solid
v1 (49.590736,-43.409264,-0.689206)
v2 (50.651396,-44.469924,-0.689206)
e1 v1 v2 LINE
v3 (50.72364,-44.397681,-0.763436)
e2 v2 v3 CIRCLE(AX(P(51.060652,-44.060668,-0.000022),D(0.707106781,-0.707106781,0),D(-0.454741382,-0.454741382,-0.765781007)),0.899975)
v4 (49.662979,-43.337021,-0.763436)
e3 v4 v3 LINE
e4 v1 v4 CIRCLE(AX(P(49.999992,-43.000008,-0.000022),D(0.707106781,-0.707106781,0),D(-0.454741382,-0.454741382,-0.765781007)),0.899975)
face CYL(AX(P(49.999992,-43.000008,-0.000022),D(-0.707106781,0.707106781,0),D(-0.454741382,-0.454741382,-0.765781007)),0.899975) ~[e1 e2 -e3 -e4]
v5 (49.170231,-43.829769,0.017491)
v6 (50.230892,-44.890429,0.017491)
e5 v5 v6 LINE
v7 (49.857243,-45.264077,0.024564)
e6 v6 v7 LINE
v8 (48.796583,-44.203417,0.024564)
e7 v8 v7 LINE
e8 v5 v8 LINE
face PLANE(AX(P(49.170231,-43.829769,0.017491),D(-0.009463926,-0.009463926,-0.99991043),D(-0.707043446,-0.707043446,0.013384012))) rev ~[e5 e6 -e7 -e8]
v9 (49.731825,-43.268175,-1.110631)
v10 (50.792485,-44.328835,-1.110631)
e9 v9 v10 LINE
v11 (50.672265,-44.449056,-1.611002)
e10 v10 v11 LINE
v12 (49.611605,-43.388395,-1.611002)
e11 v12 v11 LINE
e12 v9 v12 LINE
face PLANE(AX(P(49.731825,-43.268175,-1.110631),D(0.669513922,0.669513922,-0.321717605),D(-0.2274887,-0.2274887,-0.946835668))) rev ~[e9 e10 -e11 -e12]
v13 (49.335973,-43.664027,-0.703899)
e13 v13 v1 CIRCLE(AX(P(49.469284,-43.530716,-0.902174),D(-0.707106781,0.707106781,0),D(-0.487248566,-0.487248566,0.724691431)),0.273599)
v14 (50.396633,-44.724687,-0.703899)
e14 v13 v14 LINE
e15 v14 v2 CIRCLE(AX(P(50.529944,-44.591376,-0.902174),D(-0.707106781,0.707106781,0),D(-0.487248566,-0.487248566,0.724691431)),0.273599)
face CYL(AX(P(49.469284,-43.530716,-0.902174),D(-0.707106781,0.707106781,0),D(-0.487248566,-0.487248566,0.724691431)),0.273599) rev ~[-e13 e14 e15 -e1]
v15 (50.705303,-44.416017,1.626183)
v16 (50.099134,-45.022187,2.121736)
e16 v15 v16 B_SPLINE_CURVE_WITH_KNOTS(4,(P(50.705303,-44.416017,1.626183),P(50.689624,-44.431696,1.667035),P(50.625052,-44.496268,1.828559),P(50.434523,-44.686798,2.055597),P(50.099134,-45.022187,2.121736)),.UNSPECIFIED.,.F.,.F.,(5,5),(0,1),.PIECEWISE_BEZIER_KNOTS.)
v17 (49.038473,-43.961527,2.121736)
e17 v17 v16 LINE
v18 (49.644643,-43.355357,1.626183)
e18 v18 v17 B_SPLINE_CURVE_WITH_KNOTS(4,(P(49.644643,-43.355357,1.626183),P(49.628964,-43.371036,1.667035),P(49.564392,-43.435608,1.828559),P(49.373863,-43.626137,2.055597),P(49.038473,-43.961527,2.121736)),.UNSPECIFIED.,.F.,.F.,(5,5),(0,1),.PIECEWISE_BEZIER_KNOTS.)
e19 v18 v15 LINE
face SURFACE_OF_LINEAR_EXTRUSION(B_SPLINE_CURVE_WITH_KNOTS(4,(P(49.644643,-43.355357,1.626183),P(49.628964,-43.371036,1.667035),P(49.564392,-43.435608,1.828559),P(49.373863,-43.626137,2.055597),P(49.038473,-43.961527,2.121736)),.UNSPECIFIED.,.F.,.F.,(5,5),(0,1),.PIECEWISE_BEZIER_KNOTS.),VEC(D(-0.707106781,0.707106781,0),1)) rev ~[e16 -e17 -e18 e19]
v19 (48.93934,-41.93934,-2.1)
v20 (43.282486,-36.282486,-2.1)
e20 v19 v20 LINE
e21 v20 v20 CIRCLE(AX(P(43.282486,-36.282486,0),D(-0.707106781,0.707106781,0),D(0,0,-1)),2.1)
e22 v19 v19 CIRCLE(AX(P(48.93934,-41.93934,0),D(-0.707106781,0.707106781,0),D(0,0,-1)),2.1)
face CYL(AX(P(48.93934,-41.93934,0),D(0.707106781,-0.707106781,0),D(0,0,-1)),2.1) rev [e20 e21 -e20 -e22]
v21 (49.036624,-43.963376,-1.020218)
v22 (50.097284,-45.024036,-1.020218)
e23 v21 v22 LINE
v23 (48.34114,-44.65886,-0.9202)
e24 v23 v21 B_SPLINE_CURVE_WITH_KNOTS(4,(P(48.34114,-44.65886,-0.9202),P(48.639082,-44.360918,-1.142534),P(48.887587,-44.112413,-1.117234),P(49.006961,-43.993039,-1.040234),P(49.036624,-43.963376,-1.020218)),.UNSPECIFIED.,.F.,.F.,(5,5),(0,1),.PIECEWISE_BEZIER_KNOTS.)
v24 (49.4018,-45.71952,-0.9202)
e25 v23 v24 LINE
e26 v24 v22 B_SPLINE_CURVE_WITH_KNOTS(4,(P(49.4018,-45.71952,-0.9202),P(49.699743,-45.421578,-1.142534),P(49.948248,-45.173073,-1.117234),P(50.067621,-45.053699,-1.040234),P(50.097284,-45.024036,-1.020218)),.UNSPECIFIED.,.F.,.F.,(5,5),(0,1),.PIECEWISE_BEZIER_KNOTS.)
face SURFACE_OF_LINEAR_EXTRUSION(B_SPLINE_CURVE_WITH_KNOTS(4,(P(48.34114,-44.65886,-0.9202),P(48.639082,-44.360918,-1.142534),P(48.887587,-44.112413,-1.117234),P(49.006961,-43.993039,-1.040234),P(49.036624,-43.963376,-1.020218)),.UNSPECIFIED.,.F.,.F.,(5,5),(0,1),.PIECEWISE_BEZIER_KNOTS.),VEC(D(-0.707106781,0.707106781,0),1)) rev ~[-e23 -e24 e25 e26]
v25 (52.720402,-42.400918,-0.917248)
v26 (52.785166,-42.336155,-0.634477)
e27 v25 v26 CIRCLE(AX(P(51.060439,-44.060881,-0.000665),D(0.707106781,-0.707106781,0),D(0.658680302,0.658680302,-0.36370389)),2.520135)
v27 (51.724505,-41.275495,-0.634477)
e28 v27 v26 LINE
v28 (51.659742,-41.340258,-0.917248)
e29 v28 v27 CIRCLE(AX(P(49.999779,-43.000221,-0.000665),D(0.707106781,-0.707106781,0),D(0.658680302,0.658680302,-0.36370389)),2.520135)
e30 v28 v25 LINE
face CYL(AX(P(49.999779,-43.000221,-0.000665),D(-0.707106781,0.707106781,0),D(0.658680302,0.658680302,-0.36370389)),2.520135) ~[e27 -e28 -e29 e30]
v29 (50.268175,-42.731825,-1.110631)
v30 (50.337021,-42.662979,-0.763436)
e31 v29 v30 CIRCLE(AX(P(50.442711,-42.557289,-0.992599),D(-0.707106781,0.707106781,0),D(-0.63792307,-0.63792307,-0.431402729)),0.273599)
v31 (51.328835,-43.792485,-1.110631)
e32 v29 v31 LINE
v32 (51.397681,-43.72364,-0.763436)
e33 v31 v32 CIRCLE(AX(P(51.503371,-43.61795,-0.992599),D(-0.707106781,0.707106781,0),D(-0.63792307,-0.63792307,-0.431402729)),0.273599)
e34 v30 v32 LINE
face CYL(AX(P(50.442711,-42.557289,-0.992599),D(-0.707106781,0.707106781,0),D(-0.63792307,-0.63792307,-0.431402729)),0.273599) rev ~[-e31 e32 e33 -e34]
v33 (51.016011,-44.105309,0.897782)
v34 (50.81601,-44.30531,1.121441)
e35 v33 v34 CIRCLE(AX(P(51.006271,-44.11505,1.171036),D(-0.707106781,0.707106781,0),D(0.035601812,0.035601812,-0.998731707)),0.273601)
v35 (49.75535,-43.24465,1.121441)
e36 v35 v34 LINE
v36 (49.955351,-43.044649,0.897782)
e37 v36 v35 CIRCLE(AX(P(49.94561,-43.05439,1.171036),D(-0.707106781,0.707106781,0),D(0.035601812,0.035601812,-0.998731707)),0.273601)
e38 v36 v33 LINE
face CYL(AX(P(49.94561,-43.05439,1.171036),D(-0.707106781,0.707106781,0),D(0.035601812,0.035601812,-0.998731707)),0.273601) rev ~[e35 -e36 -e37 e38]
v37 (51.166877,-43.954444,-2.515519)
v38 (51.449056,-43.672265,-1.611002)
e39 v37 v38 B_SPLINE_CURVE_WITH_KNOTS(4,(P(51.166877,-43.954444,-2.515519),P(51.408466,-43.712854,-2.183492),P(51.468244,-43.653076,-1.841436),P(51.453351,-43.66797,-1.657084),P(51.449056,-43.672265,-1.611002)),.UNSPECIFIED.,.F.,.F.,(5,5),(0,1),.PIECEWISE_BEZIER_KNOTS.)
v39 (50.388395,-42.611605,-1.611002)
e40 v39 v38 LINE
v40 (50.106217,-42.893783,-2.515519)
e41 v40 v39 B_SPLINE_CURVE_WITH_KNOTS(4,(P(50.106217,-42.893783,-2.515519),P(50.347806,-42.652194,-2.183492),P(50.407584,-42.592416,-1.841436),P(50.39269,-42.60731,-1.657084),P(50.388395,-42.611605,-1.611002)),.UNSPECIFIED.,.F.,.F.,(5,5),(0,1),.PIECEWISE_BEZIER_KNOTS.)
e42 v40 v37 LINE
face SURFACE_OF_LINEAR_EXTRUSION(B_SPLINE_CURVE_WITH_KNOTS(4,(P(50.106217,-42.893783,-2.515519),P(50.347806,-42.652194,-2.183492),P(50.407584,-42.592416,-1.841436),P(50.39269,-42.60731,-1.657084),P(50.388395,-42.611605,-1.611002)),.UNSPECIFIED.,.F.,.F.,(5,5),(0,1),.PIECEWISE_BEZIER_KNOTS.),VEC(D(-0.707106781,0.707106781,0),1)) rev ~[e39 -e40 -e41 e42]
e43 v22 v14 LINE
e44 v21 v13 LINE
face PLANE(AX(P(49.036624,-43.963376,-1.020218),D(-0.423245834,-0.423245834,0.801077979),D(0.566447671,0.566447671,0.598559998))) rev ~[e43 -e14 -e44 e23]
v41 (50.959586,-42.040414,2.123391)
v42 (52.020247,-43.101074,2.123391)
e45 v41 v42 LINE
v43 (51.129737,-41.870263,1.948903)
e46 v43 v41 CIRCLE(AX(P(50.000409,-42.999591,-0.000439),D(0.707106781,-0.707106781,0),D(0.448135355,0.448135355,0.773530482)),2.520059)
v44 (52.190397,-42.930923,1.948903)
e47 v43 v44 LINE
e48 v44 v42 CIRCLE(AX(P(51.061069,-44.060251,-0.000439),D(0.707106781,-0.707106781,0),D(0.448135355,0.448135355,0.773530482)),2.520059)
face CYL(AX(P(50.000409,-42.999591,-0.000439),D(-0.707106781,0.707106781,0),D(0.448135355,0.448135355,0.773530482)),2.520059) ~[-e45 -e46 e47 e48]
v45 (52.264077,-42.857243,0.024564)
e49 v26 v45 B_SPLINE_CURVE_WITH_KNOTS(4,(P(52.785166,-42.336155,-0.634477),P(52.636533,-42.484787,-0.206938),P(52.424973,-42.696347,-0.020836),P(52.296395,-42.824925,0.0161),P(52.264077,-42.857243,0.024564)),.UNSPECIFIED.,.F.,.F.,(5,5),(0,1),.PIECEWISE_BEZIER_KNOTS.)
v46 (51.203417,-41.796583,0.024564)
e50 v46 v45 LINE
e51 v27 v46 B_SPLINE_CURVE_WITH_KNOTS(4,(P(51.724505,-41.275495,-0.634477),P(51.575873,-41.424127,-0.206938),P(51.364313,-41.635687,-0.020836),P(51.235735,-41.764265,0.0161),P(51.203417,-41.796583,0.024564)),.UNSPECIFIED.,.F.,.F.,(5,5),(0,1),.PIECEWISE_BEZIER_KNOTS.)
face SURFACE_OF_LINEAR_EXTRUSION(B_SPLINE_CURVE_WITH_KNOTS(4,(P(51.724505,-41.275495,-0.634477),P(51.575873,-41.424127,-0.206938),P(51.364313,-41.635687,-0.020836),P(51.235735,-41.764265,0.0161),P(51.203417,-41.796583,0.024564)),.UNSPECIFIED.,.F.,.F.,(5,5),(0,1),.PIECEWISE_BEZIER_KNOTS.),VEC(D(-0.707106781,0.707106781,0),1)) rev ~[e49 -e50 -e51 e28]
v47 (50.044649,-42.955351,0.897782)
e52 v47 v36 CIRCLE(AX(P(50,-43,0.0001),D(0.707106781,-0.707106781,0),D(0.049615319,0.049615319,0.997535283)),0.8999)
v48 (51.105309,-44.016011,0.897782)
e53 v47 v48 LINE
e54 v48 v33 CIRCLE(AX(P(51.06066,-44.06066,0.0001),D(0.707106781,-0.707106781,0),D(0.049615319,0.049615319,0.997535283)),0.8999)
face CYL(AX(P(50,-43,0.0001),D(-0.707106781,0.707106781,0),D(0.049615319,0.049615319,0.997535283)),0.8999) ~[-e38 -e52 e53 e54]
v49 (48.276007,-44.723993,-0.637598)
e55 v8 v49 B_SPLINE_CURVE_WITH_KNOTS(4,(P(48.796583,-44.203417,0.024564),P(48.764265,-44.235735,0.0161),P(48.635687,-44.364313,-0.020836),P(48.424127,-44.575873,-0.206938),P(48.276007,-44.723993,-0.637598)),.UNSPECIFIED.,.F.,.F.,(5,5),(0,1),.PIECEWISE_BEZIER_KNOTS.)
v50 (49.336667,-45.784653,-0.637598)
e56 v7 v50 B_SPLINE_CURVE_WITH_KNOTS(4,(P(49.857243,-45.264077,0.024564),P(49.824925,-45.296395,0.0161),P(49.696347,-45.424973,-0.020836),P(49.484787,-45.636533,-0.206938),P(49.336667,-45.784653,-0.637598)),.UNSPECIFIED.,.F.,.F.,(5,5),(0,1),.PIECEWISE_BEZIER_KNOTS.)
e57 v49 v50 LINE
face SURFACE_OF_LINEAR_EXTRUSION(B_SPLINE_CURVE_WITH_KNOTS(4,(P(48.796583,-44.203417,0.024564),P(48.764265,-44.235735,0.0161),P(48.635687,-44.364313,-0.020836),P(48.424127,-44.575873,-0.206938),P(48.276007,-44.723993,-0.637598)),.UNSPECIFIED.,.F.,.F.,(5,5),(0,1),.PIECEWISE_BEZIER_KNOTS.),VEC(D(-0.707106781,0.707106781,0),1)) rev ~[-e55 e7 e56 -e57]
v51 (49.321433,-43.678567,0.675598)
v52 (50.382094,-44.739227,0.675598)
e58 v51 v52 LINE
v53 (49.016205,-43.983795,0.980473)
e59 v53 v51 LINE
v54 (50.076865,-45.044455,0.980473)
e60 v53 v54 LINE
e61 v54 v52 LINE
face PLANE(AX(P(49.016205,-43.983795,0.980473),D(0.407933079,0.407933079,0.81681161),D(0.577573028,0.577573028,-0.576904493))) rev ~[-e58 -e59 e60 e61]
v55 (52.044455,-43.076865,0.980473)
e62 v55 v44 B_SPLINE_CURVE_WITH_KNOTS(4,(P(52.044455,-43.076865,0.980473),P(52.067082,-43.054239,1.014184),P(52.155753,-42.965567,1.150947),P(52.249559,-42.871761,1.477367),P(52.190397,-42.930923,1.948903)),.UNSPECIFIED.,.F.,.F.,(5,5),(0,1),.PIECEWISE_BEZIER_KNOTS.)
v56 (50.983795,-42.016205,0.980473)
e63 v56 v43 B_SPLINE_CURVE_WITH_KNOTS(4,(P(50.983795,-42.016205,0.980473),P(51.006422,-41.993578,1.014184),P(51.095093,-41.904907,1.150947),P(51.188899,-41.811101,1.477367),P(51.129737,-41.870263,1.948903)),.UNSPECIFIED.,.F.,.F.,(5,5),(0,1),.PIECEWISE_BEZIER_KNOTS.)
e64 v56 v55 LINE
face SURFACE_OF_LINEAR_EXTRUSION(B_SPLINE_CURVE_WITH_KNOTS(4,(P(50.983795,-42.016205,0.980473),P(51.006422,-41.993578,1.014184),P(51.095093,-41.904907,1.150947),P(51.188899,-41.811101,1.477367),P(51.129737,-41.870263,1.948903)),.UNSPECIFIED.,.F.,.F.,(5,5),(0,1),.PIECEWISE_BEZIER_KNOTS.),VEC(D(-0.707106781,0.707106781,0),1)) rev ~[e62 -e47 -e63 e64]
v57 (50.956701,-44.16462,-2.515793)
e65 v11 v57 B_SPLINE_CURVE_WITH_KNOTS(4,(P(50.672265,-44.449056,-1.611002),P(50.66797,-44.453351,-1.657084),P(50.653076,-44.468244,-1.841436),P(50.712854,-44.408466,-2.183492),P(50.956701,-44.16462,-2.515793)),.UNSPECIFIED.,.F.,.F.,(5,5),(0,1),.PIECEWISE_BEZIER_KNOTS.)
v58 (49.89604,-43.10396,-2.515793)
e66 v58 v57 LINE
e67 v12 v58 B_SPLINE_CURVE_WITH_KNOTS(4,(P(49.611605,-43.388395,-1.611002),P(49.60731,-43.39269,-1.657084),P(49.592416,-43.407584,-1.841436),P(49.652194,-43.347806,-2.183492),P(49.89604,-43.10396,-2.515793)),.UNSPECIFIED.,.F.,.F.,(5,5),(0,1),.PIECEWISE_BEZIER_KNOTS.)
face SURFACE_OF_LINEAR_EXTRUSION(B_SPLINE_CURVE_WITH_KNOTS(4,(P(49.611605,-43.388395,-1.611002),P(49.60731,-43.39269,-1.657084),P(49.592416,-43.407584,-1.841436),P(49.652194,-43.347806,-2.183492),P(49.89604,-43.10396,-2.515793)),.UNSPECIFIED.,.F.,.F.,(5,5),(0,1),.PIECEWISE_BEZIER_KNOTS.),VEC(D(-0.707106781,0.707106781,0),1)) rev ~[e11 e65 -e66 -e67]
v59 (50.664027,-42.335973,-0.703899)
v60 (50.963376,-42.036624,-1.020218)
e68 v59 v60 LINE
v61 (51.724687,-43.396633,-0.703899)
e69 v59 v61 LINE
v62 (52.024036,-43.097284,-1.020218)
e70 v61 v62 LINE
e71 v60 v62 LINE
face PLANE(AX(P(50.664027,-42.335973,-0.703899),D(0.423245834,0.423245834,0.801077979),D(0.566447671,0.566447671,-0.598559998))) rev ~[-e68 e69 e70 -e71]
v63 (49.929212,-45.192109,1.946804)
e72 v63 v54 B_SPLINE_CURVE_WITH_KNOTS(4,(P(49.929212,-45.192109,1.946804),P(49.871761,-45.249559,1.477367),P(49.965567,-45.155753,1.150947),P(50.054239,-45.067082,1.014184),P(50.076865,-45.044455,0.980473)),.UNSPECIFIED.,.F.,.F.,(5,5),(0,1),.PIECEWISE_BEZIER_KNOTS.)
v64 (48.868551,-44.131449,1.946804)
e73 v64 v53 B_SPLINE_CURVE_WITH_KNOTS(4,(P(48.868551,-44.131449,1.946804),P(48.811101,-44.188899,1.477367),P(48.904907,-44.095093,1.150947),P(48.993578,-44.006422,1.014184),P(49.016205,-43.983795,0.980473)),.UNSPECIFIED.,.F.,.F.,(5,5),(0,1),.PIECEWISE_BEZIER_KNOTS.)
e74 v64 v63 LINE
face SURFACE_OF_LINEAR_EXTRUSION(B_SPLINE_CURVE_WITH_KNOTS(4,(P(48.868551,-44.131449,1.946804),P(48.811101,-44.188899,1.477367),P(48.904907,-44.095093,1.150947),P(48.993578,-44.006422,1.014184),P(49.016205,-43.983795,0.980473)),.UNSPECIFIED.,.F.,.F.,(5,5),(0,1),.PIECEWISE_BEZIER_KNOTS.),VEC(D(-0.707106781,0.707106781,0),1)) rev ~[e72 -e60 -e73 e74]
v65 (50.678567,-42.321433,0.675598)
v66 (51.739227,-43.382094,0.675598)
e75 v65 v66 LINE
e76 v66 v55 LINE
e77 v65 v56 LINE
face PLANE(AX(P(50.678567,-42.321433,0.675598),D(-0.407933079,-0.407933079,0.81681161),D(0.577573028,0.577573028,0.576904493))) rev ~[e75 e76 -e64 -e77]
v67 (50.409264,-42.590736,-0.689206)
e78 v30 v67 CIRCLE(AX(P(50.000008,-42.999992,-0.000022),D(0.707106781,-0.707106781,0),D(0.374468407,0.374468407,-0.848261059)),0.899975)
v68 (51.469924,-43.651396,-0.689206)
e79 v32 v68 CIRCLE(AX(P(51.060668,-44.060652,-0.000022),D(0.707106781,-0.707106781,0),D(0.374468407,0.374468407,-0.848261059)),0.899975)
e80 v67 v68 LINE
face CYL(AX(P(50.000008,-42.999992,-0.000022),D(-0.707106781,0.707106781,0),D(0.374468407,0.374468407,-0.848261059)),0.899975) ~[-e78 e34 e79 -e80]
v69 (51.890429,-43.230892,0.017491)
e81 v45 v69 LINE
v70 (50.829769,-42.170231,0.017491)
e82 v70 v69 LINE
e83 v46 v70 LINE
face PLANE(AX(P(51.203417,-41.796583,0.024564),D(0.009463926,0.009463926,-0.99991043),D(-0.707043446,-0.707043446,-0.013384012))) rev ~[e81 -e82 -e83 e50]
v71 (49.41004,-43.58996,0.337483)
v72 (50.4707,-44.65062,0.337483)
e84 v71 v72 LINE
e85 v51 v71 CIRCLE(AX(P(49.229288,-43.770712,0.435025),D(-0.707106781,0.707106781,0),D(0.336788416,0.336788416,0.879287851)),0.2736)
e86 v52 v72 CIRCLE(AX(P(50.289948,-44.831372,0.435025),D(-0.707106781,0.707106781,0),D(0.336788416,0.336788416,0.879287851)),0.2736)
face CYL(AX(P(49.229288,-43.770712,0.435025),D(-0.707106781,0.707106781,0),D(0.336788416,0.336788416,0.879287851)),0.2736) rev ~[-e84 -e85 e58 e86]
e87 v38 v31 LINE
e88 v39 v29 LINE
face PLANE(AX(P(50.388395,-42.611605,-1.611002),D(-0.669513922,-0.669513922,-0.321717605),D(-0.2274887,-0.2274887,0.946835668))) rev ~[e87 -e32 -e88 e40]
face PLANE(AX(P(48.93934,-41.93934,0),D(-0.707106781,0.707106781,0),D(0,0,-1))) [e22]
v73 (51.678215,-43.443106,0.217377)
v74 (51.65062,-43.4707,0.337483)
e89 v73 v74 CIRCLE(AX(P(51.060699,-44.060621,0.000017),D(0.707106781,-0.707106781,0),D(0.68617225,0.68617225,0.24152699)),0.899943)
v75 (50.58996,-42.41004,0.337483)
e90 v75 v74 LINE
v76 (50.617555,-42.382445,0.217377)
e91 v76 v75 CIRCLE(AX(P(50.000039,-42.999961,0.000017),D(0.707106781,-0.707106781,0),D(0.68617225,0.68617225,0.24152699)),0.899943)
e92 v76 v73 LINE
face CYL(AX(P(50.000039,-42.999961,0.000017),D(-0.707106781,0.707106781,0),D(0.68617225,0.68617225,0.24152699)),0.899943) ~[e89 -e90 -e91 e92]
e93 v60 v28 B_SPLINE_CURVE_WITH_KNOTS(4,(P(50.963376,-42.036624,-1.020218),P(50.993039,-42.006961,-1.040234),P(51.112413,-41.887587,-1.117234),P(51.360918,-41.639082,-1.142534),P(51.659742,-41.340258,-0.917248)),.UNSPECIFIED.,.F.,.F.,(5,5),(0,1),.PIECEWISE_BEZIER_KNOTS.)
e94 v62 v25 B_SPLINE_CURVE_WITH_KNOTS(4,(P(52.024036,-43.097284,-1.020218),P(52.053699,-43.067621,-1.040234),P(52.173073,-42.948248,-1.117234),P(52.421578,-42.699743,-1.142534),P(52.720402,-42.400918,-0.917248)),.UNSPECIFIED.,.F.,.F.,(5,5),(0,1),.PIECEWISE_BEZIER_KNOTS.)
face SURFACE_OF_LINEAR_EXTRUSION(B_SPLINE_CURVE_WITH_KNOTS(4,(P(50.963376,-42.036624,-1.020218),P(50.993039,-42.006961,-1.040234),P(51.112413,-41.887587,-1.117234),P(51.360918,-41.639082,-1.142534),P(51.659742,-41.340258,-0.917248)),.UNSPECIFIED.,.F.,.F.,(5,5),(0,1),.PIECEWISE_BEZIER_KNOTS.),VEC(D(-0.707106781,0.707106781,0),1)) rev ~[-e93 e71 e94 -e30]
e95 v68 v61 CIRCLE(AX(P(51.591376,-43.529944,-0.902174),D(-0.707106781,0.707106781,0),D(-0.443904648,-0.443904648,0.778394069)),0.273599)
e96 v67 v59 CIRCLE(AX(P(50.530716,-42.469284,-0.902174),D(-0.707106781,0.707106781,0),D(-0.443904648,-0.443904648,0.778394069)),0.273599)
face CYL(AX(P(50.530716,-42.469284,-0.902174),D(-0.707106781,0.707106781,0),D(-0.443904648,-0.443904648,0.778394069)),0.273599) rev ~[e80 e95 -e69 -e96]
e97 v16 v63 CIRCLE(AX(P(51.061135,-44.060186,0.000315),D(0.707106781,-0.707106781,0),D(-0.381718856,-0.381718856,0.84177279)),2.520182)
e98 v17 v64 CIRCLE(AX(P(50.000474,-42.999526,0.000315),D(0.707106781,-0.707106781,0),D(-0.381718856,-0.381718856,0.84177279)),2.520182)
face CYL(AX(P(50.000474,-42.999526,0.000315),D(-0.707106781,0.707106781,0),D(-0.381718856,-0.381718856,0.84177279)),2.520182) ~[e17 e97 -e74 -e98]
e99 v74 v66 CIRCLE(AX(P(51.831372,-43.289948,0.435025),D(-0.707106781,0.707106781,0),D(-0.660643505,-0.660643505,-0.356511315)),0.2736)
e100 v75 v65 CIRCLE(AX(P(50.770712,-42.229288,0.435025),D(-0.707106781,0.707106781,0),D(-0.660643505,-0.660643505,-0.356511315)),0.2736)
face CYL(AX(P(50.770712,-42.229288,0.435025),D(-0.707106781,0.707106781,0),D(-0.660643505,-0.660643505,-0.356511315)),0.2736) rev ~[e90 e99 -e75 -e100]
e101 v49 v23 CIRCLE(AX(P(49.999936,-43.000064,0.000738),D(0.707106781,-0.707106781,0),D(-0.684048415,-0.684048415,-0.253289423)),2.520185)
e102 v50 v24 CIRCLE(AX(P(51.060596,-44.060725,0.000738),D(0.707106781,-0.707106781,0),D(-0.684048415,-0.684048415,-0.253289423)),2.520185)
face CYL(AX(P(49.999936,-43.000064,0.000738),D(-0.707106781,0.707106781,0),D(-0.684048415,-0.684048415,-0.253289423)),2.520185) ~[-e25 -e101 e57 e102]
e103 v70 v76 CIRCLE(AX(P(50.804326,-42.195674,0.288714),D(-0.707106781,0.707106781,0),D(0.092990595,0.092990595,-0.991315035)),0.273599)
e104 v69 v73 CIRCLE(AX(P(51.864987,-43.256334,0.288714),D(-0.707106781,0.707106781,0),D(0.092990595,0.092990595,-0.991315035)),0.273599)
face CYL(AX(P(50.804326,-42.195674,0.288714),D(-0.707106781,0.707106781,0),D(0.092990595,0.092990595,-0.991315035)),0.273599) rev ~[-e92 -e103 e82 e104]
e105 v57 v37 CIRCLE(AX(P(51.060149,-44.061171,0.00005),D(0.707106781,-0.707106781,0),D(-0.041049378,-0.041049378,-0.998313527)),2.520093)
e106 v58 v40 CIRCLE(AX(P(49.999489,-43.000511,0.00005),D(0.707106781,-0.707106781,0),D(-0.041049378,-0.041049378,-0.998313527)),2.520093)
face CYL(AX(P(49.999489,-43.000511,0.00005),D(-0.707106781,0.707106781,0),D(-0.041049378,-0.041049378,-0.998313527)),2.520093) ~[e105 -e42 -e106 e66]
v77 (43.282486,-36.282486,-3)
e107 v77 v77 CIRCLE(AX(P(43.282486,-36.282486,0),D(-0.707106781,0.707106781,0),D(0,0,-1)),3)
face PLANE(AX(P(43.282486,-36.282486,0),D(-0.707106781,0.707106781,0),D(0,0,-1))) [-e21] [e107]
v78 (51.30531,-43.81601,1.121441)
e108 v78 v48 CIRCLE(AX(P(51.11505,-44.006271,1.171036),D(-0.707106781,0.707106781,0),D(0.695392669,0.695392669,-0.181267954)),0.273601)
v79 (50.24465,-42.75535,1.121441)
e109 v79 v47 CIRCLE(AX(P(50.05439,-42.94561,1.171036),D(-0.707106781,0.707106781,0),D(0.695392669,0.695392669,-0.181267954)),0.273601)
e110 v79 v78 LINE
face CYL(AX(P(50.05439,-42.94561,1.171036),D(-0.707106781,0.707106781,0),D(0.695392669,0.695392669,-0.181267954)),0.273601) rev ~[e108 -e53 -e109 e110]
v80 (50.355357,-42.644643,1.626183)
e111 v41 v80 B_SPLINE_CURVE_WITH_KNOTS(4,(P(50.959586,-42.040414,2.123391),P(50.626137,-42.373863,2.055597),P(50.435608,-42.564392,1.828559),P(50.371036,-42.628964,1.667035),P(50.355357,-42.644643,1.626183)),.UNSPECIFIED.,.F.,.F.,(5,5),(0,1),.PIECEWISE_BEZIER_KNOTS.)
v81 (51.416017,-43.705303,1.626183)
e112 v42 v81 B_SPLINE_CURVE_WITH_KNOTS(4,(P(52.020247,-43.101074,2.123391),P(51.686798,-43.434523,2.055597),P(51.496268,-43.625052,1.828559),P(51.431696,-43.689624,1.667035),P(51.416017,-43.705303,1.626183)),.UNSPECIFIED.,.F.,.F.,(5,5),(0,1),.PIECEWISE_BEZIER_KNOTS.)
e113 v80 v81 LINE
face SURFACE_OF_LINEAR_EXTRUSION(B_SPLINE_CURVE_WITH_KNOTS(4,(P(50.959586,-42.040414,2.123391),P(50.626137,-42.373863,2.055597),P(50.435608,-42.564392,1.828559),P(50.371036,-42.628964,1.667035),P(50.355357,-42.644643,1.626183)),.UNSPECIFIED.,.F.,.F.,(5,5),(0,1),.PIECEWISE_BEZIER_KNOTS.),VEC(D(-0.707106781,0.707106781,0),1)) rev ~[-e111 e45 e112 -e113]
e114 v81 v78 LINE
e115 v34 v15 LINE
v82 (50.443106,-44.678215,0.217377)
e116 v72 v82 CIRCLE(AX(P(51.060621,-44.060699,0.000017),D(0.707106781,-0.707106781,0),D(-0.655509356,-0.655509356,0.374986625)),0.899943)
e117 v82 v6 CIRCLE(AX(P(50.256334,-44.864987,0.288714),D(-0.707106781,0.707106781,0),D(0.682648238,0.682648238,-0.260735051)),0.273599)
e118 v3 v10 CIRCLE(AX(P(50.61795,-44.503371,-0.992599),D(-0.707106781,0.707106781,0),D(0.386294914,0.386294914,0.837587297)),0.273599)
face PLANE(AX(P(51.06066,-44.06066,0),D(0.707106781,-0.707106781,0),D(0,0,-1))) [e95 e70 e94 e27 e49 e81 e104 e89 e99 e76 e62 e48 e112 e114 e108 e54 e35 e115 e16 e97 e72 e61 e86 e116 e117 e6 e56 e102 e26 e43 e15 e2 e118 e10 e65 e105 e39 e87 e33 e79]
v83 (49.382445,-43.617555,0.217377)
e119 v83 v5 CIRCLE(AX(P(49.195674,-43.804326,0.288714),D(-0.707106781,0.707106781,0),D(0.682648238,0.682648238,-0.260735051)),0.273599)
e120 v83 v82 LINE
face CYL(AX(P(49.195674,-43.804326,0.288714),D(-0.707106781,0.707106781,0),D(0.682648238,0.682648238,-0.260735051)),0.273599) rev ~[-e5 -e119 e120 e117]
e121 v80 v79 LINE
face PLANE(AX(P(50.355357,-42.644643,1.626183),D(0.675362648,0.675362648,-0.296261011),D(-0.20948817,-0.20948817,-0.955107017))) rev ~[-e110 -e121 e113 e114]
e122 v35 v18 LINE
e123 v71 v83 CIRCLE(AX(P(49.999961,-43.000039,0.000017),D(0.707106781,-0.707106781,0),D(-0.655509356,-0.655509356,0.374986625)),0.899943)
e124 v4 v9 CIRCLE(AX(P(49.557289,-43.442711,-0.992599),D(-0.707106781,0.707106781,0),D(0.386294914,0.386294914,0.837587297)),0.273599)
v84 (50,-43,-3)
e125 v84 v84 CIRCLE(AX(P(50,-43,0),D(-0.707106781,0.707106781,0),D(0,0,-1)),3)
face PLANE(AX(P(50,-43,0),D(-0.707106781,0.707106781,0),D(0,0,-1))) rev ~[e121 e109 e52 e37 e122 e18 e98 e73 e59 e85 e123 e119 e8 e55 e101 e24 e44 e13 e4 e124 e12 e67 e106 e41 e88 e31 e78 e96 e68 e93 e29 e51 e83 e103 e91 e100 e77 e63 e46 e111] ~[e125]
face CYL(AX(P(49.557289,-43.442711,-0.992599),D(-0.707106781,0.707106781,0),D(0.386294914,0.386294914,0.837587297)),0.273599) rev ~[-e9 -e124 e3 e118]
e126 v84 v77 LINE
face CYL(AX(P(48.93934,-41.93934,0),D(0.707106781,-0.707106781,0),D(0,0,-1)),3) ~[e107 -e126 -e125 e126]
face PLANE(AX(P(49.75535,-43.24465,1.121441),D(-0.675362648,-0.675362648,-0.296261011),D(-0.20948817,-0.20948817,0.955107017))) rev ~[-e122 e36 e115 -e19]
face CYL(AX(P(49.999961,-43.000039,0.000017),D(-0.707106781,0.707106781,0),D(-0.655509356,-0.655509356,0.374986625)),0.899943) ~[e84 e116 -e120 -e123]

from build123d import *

# Parameters (mm, degrees)
PAD035_DEPTH            = 1.5
SKETCH054_R             = 3
PAD036_DEPTH            = 1.5
SKETCH055_R             = 3
SKETCH055_R_2           = 2.1
PAD037_DEPTH            = 8
BODY021_PITCH_ANGLE     = 90
BODY021_PLACEMENT_ANGLE = -45


with BuildPart() as part:
    # InvoluteGear006 → Pad035 (new body)
    with BuildSketch(Plane.XY):
        with BuildLine():
            Line((1.110631, -0.379257), (1.611002, -0.549274))
            add(Edge.make_bspline(
                [(1.611002, -0.549274), (1.657084, -0.555348), (1.841436, -0.576411), (2.183492, -0.491872), (2.515793, -0.147021)],
                knots=[0, 0, 0, 0, 0, 1, 1, 1, 1, 1], degree=4))
            ThreePointArc((2.515793, -0.147021), (2.520042, 0.0016), (2.515519, 0.150213))
            add(Edge.make_bspline(
                [(2.515519, 0.150213), (2.183492, 0.491872), (1.841436, 0.576411), (1.657084, 0.555348), (1.611002, 0.549274)],
                knots=[0, 0, 0, 0, 0, 1, 1, 1, 1, 1], degree=4))
            Line((1.611002, 0.549274), (1.110631, 0.379257))
            ThreePointArc((1.110631, 0.379257), (0.918725, 0.36265), (0.763436, 0.476619))
            ThreePointArc((0.763436, 0.476619), (0.728115, 0.529007), (0.689206, 0.578787))
            ThreePointArc((0.689206, 0.578787), (0.628802, 0.761694), (0.703899, 0.939076))
            Line((0.703899, 0.939076), (1.020218, 1.362419))
            add(Edge.make_bspline(
                [(1.020218, 1.362419), (1.040234, 1.404369), (1.117234, 1.573189), (1.142534, 1.924628), (0.917248, 2.34723)],
                knots=[0, 0, 0, 0, 0, 1, 1, 1, 1, 1], degree=4))
            ThreePointArc((0.917248, 2.34723), (0.777214, 2.397197), (0.634477, 2.438819))
            add(Edge.make_bspline(
                [(0.634477, 2.438819), (0.206938, 2.228621), (0.020836, 1.92943), (-0.0161, 1.747593), (-0.024564, 1.701889)],
                knots=[0, 0, 0, 0, 0, 1, 1, 1, 1, 1], degree=4))
            Line((-0.024564, 1.701889), (-0.017491, 1.17347))
            ThreePointArc((-0.017491, 1.17347), (-0.060999, 0.985824), (-0.217377, 0.873354))
            ThreePointArc((-0.217377, 0.873354), (-0.278115, 0.855951), (-0.337483, 0.834329))
            ThreePointArc((-0.337483, 0.834329), (-0.530104, 0.833403), (-0.675598, 0.959638))
            Line((-0.675598, 0.959638), (-0.980473, 1.391296))
            add(Edge.make_bspline(
                [(-0.980473, 1.391296), (-1.014184, 1.423295), (-1.150947, 1.548695), (-1.477367, 1.681357), (-1.948903, 1.597689)],
                knots=[0, 0, 0, 0, 0, 1, 1, 1, 1, 1], degree=4))
            ThreePointArc((-1.948903, 1.597689), (-2.039698, 1.479949), (-2.123391, 1.35706))
            add(Edge.make_bspline(
                [(-2.123391, 1.35706), (-2.055597, 0.885492), (-1.828559, 0.616043), (-1.667035, 0.524724), (-1.626183, 0.502551)],
                knots=[0, 0, 0, 0, 0, 1, 1, 1, 1, 1], degree=4))
            Line((-1.626183, 0.502551), (-1.121441, 0.345987))
            ThreePointArc((-1.121441, 0.345987), (-0.956425, 0.246623), (-0.897782, 0.063143))
            ThreePointArc((-0.897782, 0.063143), (-0.9, 0), (-0.897782, -0.063143))
            ThreePointArc((-0.897782, -0.063143), (-0.956425, -0.246623), (-1.121441, -0.345987))
            Line((-1.121441, -0.345987), (-1.626183, -0.502551))
            add(Edge.make_bspline(
                [(-1.626183, -0.502551), (-1.667035, -0.524724), (-1.828559, -0.616043), (-2.055597, -0.885492), (-2.121736, -1.359804)],
                knots=[0, 0, 0, 0, 0, 1, 1, 1, 1, 1], degree=4))
            ThreePointArc((-2.121736, -1.359804), (-2.037816, -1.482538), (-1.946804, -1.60011))
            add(Edge.make_bspline(
                [(-1.946804, -1.60011), (-1.477367, -1.681357), (-1.150947, -1.548695), (-1.014184, -1.423295), (-0.980473, -1.391296)],
                knots=[0, 0, 0, 0, 0, 1, 1, 1, 1, 1], degree=4))
            Line((-0.980473, -1.391296), (-0.675598, -0.959638))
            ThreePointArc((-0.675598, -0.959638), (-0.530104, -0.833403), (-0.337483, -0.834329))
            ThreePointArc((-0.337483, -0.834329), (-0.278115, -0.855951), (-0.217377, -0.873354))
            ThreePointArc((-0.217377, -0.873354), (-0.060999, -0.985824), (-0.017491, -1.17347))
            Line((-0.017491, -1.17347), (-0.024564, -1.701889))
            add(Edge.make_bspline(
                [(-0.024564, -1.701889), (-0.0161, -1.747593), (0.020836, -1.92943), (0.206938, -2.228621), (0.637598, -2.438094)],
                knots=[0, 0, 0, 0, 0, 1, 1, 1, 1, 1], degree=4))
            ThreePointArc((0.637598, -2.438094), (0.780258, -2.396208), (0.9202, -2.345982))
            add(Edge.make_bspline(
                [(0.9202, -2.345982), (1.142534, -1.924628), (1.117234, -1.573189), (1.040234, -1.404369), (1.020218, -1.362419)],
                knots=[0, 0, 0, 0, 0, 1, 1, 1, 1, 1], degree=4))
            Line((1.020218, -1.362419), (0.703899, -0.939076))
            ThreePointArc((0.703899, -0.939076), (0.628802, -0.761694), (0.689206, -0.578787))
            ThreePointArc((0.689206, -0.578787), (0.728115, -0.529007), (0.763436, -0.476619))
            ThreePointArc((0.763436, -0.476619), (0.918725, -0.36265), (1.110631, -0.379257))
        make_face()
    extrude(amount=PAD035_DEPTH)

    # Sketch054 (on Face41 of Pad035) → Pad036 (join)
    with BuildSketch(Plane(origin=(0, 0, 0), x_dir=(1, 0, 0), z_dir=(0, 0, -1))):
        Circle(SKETCH054_R)
    extrude(amount=PAD036_DEPTH)

    # Sketch055 (on Face3 of Pad036) → Pad037 (join)
    with BuildSketch(Plane(origin=(0, 0, -1.5), x_dir=(1, 0, 0), z_dir=(0, 0, -1))):
        Circle(SKETCH055_R)
        Circle(SKETCH055_R_2, mode=Mode.SUBTRACT)
    extrude(amount=PAD037_DEPTH)


with BuildPart() as part_1:
    # Body021 pitch: moved
    add(part.part.rotate(Axis((0, 0, 0), (0, 1, 0)), BODY021_PITCH_ANGLE))


with BuildPart() as part_2:
    # Body021 placement: moved
    add(part_1.part.moved(Location((50, -43, 0))).rotate(Axis((50, -43, 0), (0, 0, 1)), BODY021_PLACEMENT_ANGLE))


solid = part_2.part
